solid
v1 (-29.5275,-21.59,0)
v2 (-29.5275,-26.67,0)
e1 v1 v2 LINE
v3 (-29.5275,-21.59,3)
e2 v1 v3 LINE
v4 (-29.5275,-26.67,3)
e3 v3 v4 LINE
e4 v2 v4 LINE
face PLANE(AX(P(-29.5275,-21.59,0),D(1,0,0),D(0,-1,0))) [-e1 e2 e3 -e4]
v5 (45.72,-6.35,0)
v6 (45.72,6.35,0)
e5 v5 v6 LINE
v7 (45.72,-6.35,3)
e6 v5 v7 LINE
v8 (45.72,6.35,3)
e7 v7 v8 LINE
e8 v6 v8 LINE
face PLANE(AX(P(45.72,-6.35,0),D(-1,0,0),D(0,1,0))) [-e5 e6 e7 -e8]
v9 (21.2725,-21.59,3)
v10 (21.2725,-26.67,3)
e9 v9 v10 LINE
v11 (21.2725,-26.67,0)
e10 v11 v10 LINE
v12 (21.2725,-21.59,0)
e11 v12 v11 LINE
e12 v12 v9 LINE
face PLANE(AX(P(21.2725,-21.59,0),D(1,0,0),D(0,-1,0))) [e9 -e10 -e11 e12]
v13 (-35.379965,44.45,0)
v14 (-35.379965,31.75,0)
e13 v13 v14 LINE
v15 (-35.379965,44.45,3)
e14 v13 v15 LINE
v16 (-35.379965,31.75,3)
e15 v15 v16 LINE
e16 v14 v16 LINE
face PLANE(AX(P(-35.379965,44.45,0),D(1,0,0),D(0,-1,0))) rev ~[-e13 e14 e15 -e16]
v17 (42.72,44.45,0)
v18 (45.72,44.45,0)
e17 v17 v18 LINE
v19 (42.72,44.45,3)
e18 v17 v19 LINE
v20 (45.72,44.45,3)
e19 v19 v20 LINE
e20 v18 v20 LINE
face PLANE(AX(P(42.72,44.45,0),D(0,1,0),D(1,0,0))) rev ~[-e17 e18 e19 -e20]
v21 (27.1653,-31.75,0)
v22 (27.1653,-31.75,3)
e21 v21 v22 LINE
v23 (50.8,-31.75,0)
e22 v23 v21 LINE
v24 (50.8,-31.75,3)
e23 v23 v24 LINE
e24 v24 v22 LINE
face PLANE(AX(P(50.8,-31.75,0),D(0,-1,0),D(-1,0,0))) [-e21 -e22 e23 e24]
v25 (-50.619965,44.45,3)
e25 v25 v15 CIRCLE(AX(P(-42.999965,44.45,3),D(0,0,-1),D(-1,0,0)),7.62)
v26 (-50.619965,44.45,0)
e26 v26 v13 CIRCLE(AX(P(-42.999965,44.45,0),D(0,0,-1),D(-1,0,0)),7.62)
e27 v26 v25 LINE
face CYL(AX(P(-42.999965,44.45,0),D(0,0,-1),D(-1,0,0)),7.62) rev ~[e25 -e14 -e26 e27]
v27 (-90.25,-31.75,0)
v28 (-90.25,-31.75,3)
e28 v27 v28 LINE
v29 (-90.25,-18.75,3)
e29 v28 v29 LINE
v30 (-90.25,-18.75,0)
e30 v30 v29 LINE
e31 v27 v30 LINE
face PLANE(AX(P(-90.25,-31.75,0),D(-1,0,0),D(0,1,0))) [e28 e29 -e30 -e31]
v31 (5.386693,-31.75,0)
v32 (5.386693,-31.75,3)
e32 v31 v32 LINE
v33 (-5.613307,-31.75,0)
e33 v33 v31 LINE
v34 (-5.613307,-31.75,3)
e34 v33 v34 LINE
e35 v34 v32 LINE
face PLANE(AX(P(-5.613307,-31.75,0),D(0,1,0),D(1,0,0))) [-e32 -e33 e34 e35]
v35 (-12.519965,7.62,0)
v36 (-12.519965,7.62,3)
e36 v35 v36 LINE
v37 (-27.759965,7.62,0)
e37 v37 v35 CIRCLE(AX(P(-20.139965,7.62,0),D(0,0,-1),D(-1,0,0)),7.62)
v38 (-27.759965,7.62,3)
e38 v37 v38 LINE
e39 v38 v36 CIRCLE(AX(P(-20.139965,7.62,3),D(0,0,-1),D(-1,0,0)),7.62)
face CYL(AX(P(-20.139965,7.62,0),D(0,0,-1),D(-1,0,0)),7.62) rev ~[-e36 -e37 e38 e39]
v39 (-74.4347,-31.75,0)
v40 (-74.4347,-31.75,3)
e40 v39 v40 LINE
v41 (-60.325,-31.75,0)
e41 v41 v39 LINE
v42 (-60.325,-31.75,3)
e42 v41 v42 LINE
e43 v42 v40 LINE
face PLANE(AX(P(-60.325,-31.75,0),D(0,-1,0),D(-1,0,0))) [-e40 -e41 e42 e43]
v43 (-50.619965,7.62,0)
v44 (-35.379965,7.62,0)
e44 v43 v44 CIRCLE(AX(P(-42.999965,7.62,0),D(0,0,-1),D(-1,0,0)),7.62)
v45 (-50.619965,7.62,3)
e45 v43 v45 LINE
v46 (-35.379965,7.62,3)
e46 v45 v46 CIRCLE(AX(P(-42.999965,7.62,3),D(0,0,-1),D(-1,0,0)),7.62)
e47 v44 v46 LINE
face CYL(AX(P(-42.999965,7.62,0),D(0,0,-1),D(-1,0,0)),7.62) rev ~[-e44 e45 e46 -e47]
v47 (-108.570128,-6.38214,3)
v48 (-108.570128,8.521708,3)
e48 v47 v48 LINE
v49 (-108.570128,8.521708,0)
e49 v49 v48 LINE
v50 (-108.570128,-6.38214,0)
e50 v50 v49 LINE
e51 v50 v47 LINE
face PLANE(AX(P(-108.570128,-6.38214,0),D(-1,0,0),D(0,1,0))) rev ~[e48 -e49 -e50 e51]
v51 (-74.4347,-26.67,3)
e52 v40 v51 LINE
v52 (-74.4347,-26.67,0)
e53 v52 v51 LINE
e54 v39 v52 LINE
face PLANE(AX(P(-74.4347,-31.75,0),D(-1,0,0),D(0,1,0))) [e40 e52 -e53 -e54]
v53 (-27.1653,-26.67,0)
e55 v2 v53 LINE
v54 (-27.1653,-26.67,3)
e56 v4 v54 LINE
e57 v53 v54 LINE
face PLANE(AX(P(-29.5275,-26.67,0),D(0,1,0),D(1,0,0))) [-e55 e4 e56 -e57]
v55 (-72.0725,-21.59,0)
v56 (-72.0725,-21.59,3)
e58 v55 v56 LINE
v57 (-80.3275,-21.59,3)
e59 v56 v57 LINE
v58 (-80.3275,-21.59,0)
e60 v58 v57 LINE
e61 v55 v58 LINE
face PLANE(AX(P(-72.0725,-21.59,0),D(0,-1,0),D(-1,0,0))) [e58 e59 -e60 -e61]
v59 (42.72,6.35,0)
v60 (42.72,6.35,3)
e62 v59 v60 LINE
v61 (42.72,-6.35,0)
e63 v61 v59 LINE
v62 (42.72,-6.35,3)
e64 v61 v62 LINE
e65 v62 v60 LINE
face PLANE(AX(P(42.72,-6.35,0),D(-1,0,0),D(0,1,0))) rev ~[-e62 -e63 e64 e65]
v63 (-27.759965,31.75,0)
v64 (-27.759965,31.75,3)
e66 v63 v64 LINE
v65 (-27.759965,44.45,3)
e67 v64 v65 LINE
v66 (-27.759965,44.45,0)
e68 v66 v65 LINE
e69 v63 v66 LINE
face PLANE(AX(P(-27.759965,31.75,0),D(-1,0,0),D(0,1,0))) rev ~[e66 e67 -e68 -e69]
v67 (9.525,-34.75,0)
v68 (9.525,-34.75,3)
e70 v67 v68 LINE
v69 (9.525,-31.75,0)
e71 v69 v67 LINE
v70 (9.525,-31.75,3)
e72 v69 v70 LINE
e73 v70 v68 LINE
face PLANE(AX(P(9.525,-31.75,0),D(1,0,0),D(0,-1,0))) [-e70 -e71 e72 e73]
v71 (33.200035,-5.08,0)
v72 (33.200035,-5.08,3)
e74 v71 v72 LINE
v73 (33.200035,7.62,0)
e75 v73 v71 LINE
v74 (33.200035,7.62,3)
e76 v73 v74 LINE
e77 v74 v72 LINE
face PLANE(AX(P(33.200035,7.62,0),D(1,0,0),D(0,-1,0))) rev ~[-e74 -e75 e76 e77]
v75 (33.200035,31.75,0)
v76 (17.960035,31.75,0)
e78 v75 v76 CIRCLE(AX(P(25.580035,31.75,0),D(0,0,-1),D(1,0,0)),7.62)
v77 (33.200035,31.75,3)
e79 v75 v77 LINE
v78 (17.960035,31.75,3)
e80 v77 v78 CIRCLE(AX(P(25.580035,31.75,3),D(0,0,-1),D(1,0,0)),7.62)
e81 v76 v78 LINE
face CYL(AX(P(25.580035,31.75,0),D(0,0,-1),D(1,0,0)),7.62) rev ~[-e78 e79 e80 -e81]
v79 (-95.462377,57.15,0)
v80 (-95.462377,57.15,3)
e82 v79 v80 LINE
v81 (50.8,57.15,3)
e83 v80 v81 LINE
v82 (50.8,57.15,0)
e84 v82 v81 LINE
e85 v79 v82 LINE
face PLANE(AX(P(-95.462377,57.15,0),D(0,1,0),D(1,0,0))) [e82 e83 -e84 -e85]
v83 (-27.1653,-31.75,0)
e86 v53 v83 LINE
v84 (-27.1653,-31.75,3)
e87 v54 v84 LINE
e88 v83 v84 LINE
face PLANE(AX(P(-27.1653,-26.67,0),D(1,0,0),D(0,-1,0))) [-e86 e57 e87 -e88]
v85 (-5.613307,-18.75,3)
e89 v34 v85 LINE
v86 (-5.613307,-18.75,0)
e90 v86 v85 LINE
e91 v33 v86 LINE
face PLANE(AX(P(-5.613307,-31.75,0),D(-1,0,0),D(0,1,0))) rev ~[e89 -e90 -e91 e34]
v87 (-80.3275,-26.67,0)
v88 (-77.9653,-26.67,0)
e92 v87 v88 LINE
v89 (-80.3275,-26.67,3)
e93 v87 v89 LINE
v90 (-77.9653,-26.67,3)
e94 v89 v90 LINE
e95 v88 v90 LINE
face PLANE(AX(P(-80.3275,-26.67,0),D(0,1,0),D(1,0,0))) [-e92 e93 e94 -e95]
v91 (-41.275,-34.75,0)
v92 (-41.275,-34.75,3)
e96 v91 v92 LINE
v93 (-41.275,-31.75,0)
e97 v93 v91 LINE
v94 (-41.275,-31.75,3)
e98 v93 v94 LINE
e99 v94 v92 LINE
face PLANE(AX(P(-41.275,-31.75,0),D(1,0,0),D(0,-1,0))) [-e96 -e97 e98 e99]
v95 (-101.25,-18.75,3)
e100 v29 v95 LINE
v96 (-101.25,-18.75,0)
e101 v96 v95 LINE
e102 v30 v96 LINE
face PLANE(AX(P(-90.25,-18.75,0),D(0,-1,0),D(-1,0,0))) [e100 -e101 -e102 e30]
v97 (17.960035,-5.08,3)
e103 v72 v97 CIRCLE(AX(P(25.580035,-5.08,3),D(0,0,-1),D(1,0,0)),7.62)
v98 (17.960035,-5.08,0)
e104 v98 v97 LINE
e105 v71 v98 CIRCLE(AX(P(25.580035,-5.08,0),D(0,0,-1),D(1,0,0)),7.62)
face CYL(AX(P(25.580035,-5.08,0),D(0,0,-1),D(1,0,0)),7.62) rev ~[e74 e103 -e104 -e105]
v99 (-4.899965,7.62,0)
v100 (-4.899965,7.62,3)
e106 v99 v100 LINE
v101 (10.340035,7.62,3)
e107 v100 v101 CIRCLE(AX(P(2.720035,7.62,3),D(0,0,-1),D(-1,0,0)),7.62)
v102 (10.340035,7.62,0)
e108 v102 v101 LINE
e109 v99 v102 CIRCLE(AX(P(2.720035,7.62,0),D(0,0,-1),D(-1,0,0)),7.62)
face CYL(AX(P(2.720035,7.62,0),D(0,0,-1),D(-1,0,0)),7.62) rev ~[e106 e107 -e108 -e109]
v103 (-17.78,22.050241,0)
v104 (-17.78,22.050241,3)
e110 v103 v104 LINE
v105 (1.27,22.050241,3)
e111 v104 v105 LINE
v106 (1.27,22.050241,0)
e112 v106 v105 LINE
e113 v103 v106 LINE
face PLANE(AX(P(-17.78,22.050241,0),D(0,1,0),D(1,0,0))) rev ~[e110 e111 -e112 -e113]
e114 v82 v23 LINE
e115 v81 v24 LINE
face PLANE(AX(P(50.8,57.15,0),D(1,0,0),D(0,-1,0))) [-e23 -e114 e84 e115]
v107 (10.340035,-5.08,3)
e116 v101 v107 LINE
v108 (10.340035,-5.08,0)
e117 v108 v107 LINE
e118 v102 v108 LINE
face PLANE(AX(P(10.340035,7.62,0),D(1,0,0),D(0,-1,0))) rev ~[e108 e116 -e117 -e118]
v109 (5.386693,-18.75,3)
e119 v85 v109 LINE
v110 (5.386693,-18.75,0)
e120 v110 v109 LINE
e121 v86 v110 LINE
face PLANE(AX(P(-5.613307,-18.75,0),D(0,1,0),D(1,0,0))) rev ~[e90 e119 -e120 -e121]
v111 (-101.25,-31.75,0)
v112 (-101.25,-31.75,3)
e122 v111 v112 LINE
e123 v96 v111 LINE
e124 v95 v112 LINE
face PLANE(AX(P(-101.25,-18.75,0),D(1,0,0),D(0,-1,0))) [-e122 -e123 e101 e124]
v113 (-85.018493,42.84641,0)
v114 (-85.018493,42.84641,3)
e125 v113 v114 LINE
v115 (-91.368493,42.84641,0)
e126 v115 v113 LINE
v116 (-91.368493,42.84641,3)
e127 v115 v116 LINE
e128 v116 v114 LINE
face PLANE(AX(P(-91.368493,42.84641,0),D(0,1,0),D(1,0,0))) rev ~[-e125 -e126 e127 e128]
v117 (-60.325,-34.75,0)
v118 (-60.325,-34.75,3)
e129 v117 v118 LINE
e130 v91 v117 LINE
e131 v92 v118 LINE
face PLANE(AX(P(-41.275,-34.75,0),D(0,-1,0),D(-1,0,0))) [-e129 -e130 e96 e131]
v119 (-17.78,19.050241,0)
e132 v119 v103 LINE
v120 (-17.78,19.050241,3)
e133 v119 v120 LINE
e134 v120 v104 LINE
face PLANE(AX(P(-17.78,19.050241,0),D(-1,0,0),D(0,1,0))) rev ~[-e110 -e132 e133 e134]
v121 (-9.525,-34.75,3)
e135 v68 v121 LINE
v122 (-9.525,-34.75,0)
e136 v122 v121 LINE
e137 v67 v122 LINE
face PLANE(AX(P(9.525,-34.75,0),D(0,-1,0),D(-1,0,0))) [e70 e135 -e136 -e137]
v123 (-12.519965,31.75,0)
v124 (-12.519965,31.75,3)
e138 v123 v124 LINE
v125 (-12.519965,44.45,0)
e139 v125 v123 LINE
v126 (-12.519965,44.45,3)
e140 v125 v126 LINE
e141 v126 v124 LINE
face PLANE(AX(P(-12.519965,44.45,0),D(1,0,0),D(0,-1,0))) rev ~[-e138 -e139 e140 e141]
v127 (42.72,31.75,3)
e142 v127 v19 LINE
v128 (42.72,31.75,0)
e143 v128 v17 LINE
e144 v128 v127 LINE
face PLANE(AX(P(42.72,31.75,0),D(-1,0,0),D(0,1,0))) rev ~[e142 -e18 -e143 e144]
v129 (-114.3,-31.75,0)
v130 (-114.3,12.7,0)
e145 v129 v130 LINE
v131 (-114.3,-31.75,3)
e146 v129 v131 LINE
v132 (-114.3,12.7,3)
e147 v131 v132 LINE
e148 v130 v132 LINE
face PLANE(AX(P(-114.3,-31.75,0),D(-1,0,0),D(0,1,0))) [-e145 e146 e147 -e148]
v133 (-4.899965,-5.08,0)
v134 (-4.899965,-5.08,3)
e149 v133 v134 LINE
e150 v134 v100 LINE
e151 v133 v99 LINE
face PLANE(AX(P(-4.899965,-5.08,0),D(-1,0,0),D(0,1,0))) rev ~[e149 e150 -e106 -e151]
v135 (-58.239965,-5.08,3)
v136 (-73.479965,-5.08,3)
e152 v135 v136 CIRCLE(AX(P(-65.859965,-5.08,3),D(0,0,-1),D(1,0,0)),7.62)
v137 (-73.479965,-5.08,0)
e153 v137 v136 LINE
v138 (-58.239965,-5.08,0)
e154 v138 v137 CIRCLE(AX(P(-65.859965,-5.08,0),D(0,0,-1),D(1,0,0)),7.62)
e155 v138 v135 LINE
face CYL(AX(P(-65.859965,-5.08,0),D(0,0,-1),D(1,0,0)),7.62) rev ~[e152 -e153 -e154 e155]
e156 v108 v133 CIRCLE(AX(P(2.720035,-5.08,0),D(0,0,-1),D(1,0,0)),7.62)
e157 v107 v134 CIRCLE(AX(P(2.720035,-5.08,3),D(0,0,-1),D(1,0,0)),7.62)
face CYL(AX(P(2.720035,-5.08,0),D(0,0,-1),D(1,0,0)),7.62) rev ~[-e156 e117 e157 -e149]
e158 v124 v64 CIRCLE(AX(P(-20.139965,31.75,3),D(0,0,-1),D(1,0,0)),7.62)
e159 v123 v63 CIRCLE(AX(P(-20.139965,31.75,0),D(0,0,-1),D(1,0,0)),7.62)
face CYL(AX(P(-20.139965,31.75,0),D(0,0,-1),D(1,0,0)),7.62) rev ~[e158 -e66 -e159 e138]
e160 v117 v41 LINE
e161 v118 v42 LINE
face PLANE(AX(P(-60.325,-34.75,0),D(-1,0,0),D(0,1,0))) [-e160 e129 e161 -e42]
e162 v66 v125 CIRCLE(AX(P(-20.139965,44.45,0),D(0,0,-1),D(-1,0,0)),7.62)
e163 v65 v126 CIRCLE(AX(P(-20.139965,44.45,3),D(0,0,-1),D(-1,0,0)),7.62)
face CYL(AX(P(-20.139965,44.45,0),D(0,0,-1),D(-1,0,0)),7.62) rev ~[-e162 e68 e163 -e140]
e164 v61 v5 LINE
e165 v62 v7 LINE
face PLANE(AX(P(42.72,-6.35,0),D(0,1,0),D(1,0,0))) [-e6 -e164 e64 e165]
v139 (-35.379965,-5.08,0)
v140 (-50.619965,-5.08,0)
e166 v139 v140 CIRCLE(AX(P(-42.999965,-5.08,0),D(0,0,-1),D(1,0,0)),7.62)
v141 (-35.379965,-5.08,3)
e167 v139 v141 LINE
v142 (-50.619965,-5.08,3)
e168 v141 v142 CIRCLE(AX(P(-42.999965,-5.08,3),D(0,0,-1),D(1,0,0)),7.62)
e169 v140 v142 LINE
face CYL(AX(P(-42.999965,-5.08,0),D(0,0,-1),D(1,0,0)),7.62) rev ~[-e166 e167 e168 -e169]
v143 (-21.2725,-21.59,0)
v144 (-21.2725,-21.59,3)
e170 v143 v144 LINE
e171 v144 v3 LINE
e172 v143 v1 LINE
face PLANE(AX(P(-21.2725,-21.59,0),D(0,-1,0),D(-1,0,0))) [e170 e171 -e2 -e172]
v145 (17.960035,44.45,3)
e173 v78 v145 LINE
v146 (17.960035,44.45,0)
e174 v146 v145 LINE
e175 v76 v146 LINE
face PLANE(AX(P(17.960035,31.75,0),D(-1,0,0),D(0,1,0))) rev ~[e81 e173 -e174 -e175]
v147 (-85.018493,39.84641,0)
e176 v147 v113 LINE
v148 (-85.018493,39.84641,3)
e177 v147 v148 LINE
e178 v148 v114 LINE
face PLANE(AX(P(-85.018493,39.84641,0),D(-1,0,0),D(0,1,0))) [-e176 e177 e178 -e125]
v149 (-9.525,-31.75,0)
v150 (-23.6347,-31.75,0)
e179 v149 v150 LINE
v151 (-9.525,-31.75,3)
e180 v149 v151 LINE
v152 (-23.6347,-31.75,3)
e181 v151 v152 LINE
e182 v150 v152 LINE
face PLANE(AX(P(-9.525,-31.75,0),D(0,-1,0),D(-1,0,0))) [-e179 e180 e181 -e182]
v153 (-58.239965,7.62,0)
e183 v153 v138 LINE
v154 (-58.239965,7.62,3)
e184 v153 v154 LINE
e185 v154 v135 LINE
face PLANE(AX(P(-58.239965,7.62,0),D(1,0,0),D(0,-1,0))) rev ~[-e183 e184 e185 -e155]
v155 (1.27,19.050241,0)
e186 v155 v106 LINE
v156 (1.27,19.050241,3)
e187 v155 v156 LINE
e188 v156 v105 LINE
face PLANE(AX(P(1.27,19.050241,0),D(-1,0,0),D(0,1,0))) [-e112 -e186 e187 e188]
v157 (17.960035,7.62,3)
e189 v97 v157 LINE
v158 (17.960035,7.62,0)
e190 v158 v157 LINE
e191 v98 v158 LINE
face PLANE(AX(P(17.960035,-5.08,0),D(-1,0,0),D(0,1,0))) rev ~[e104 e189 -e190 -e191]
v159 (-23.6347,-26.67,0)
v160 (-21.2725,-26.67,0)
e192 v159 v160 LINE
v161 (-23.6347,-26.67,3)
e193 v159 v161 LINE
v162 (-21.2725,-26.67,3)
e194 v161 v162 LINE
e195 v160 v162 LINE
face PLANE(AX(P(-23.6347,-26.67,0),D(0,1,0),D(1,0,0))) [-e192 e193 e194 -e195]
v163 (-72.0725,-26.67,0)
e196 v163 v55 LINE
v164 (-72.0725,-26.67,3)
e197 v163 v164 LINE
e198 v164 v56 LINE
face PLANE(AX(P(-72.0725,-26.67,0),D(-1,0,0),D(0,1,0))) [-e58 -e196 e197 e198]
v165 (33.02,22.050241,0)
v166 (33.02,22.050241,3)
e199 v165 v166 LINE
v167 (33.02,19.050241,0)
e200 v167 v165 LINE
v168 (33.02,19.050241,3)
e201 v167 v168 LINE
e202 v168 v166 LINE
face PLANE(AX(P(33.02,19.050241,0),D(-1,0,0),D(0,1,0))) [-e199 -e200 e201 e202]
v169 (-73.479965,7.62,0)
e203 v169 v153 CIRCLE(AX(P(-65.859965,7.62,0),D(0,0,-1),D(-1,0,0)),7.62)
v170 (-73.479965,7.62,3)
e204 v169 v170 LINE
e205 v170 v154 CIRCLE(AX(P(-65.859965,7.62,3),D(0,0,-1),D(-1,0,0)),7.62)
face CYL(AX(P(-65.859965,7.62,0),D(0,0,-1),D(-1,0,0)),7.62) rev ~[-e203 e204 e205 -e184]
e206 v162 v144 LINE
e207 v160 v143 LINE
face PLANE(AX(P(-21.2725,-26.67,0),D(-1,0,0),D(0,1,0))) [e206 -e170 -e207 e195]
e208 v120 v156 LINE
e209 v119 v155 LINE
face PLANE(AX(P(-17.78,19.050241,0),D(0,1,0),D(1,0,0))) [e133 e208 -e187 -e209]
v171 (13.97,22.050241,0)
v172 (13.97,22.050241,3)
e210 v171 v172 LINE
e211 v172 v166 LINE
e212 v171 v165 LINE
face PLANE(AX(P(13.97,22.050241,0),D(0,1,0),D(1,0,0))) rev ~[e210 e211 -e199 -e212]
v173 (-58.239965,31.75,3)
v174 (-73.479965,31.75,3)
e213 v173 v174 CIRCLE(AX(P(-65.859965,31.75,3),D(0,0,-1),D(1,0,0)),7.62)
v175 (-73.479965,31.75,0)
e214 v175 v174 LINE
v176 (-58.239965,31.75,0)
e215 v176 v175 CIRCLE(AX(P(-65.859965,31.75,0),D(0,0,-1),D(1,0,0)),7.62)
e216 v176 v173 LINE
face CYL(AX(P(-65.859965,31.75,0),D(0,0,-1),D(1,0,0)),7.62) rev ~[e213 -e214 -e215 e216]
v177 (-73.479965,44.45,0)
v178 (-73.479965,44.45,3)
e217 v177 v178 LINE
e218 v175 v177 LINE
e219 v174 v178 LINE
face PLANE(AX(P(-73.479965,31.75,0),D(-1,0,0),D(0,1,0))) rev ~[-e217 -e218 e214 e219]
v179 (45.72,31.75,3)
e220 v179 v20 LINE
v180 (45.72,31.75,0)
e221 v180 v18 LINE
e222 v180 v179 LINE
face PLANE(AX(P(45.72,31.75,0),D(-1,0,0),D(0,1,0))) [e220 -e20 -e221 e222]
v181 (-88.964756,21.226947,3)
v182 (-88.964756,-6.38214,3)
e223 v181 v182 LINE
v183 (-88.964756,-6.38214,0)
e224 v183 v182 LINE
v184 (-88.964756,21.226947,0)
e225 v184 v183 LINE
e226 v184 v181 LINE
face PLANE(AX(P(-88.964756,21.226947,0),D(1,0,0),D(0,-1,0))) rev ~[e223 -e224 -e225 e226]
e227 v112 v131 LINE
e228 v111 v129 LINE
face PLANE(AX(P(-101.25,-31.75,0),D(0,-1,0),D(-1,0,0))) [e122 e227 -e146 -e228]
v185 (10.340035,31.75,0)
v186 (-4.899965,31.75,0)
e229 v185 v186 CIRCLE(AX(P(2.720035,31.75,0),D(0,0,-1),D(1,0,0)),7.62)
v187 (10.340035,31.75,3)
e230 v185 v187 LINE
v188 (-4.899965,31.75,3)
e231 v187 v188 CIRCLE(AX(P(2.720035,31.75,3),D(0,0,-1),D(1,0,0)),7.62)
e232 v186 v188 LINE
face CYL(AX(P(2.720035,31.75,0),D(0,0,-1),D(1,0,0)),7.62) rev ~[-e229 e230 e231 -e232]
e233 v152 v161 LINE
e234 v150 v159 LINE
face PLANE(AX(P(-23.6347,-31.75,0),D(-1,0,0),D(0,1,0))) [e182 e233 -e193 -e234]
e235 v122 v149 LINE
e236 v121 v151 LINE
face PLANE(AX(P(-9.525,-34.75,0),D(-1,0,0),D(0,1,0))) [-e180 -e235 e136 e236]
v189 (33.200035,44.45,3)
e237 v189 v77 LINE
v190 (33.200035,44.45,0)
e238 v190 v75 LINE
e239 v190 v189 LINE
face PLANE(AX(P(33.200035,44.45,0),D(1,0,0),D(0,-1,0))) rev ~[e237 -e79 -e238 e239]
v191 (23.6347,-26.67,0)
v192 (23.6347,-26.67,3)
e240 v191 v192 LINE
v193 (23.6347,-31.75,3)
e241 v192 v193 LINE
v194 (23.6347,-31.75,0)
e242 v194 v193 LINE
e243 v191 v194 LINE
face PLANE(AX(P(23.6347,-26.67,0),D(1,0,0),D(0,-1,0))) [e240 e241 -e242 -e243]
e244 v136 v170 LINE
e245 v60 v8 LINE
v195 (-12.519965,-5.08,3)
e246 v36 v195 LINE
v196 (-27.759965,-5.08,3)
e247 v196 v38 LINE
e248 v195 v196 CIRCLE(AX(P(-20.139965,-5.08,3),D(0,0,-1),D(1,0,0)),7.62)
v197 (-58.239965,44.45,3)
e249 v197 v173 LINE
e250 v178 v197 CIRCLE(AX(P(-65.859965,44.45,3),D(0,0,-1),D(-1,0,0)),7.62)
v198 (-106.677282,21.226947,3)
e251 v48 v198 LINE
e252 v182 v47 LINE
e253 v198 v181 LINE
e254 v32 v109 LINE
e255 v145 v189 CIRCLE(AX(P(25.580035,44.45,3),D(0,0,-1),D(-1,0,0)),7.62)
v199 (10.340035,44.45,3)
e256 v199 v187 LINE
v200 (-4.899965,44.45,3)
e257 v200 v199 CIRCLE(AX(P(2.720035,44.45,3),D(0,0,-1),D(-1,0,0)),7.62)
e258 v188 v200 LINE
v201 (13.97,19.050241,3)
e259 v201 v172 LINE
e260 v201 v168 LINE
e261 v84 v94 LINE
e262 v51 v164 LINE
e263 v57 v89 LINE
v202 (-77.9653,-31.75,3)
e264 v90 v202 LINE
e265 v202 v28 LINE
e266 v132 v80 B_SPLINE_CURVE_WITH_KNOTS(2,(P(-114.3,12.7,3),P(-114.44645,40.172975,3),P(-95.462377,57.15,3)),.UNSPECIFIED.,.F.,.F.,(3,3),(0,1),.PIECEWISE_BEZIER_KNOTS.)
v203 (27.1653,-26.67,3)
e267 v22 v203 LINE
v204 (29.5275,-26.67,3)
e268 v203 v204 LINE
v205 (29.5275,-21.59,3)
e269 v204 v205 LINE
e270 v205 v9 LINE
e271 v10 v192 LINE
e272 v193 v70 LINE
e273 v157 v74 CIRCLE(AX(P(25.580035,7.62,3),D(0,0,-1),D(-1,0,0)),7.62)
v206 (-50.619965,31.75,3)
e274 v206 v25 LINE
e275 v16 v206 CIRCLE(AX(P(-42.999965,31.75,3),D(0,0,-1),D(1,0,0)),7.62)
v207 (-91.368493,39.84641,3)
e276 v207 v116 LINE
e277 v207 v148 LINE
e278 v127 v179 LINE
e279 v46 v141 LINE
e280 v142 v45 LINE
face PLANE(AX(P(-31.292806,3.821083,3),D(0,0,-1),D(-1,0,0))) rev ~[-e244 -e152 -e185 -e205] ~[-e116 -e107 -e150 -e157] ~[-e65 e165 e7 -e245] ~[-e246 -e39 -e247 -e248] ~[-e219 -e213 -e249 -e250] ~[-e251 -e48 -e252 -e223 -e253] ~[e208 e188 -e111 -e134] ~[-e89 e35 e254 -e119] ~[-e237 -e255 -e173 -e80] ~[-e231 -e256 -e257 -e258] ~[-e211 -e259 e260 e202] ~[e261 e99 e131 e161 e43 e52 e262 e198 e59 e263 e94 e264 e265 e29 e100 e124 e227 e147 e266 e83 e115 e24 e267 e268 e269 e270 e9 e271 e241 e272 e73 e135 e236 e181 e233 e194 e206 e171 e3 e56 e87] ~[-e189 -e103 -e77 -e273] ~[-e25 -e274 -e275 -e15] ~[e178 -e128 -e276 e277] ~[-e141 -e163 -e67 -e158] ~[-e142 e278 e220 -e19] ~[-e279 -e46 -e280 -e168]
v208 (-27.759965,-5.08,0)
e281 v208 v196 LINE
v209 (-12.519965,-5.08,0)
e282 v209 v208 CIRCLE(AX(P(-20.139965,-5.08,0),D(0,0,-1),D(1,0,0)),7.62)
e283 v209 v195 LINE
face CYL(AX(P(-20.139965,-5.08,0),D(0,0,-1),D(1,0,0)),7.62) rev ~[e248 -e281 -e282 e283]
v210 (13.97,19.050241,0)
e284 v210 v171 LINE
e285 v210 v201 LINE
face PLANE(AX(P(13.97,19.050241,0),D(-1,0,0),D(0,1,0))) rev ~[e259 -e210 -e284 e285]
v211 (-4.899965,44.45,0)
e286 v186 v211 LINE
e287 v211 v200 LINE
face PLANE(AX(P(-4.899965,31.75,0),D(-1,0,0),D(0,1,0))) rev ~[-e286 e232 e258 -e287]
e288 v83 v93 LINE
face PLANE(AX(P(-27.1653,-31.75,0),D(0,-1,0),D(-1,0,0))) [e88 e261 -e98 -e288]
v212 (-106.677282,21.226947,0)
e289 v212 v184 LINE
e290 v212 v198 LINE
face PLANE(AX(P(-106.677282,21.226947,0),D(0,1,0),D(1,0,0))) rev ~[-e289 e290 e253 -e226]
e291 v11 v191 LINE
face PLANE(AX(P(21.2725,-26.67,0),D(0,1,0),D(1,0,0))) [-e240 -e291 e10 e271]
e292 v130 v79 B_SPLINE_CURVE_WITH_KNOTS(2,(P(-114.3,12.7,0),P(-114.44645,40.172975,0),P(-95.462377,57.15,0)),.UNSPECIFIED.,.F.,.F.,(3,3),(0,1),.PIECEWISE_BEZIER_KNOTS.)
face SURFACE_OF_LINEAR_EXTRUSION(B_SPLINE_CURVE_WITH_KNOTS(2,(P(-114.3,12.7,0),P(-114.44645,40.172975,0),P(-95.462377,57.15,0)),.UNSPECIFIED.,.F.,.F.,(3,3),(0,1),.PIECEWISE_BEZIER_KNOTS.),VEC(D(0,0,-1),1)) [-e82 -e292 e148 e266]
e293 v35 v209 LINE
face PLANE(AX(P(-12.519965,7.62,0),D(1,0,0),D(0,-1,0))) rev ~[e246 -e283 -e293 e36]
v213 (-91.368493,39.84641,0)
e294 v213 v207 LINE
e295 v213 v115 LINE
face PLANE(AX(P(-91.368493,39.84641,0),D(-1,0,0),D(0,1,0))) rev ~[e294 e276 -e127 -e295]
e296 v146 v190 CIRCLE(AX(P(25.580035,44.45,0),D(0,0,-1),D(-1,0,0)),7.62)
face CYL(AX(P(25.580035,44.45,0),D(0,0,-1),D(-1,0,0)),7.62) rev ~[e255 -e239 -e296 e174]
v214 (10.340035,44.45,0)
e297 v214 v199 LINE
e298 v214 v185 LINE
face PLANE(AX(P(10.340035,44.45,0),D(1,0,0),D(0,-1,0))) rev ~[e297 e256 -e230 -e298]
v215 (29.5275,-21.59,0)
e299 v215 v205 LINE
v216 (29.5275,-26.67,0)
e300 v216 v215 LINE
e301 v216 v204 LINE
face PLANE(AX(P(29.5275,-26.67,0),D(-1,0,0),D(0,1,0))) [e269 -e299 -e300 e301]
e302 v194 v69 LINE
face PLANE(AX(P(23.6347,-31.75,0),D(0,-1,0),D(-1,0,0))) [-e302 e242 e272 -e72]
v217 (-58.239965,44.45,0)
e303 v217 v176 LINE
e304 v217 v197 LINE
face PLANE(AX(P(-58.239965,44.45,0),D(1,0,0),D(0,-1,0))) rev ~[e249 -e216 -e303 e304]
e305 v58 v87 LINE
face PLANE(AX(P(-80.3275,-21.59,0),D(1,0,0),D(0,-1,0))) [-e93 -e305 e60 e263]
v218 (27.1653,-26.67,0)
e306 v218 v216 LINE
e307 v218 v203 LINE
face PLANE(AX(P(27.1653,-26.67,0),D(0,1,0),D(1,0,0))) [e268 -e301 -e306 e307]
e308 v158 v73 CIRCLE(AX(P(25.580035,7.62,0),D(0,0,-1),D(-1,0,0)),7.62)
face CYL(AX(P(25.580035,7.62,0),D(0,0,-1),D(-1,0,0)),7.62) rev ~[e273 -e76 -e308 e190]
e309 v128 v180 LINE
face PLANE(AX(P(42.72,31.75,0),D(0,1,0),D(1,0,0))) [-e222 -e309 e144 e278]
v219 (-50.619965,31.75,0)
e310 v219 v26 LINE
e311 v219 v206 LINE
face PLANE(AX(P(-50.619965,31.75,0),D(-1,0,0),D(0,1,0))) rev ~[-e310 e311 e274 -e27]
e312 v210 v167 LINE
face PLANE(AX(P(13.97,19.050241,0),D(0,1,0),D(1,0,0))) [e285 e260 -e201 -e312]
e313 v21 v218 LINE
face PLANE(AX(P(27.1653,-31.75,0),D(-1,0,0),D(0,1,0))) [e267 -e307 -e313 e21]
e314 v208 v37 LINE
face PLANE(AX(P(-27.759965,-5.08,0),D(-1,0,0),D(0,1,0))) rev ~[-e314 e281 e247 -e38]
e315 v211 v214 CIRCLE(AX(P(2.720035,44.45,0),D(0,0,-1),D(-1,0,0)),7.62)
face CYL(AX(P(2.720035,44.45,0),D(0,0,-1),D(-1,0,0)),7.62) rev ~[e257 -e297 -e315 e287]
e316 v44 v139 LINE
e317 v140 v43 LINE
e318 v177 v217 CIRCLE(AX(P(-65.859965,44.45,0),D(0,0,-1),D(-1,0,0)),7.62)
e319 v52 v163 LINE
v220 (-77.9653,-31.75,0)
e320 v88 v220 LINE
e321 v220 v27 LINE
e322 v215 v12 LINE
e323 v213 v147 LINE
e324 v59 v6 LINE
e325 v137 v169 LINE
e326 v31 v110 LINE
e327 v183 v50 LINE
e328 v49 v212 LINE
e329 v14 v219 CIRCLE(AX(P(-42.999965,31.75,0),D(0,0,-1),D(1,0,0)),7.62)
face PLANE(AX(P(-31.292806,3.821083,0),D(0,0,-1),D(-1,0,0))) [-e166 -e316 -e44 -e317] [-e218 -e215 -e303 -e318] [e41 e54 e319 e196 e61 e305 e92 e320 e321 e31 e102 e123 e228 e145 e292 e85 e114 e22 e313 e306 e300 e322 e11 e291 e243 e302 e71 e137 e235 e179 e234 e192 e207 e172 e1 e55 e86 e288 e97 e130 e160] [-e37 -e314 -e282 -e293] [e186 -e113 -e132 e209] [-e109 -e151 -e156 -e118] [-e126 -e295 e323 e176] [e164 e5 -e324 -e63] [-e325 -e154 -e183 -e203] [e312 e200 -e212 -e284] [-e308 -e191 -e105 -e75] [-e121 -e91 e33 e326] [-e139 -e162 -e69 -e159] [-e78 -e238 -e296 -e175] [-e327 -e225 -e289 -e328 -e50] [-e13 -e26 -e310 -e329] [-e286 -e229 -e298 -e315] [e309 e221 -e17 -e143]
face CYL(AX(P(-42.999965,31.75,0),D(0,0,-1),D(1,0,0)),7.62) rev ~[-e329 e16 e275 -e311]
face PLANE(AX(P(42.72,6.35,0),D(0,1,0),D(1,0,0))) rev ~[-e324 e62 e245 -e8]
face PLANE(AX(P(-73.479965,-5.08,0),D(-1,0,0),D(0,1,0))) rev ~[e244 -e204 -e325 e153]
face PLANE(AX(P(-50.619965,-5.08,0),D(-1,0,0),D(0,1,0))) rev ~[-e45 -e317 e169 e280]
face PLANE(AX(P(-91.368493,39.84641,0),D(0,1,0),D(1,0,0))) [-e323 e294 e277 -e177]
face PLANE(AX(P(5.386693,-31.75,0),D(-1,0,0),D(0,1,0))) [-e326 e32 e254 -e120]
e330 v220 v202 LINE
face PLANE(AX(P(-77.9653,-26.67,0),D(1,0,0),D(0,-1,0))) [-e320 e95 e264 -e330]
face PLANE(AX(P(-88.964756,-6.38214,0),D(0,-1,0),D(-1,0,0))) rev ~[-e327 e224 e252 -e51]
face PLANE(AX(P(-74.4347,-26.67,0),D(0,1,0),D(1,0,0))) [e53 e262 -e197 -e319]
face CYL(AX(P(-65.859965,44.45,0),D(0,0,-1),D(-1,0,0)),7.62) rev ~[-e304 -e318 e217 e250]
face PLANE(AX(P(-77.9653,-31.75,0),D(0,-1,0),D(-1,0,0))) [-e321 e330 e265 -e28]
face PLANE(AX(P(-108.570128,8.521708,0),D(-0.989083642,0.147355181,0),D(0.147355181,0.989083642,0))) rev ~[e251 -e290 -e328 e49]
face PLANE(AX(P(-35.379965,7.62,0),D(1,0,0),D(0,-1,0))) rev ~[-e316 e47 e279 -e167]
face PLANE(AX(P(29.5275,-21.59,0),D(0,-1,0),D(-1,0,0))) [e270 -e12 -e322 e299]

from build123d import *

# Parameters (mm, degrees)
SKETCH1_W           = 3
SKETCH1_H           = 12.7
SKETCH1_W_2         = 6.35
SKETCH1_H_2         = 3
SKETCH1_W_3         = 19.05
SKETCH1_W_4         = 11
SKETCH1_H_3         = 13
BOSS_EXTRUDE1_DEPTH = 3


with BuildPart() as part:
    # Sketch1 → Boss-Extrude1 (new body)
    with BuildSketch(Plane.XY):
        with BuildLine():
            Line((50.8, 31.75), (50.8, -31.75))
            Line((50.8, -31.75), (27.1653, -31.75))
            Line((27.1653, -31.75), (27.1653, -26.67))
            Line((27.1653, -26.67), (29.5275, -26.67))
            Line((29.5275, -26.67), (29.5275, -21.59))
            Line((29.5275, -21.59), (21.2725, -21.59))
            Line((21.2725, -21.59), (21.2725, -26.67))
            Line((21.2725, -26.67), (23.6347, -26.67))
            Line((23.6347, -26.67), (23.6347, -31.75))
            Line((23.6347, -31.75), (9.525, -31.75))
            Line((9.525, -31.75), (9.525, -34.75))
            Line((9.525, -34.75), (-9.525, -34.75))
            Line((-9.525, -34.75), (-9.525, -31.75))
            Line((-9.525, -31.75), (-23.6347, -31.75))
            Line((-23.6347, -31.75), (-23.6347, -26.67))
            Line((-23.6347, -26.67), (-21.2725, -26.67))
            Line((-21.2725, -26.67), (-21.2725, -21.59))
            Line((-21.2725, -21.59), (-29.5275, -21.59))
            Line((-29.5275, -21.59), (-29.5275, -26.67))
            Line((-29.5275, -26.67), (-27.1653, -26.67))
            Line((-27.1653, -26.67), (-27.1653, -31.75))
            Line((-27.1653, -31.75), (-41.275, -31.75))
            Line((-41.275, -31.75), (-41.275, -34.75))
            Line((-41.275, -34.75), (-60.325, -34.75))
            Line((-60.325, -34.75), (-60.325, -31.75))
            Line((-60.325, -31.75), (-74.4347, -31.75))
            Line((-74.4347, -31.75), (-74.4347, -26.67))
            Line((-74.4347, -26.67), (-72.0725, -26.67))
            Line((-72.0725, -26.67), (-72.0725, -21.59))
            Line((-72.0725, -21.59), (-80.3275, -21.59))
            Line((-80.3275, -21.59), (-80.3275, -26.67))
            Line((-80.3275, -26.67), (-77.9653, -26.67))
            Line((-77.9653, -26.67), (-77.9653, -31.75))
            Line((-77.9653, -31.75), (-90.25, -31.75))
            Line((-90.25, -31.75), (-90.25, -18.75))
            Line((-90.25, -18.75), (-101.25, -18.75))
            Line((-101.25, -18.75), (-101.25, -31.75))
            Line((-101.25, -31.75), (-114.3, -31.75))
            Line((-114.3, -31.75), (-114.3, 12.7))
            add(Edge.make_bspline(
                [(-114.3, 12.7), (-114.446449762, 40.172975461), (-95.462376933, 57.15)],
                knots=[0, 0, 0, 1, 1, 1], degree=2))
            Line((-95.462376933, 57.15), (50.8, 57.15))
            Line((50.8, 57.15), (50.8, 31.75))
        make_face()
        with BuildLine():
            Line((33.200035124, 7.62), (33.200035124, -5.08))
            ThreePointArc((33.200035124, -5.08), (25.580035124, -12.7), (17.960035124, -5.08))
            Line((17.960035124, -5.08), (17.960035124, 7.62))
            ThreePointArc((17.960035124, 7.62), (25.580035124, 15.24), (33.200035124, 7.62))
        make_face(mode=Mode.SUBTRACT)
        with Locations((44.22, 38.1)):
            Rectangle(SKETCH1_W, SKETCH1_H, mode=Mode.SUBTRACT)
        with BuildLine():
            Line((10.340035124, 7.62), (10.340035124, -5.08))
            ThreePointArc((10.340035124, -5.08), (2.720035124, -12.7), (-4.899964876, -5.08))
            Line((-4.899964876, -5.08), (-4.899964876, 7.62))
            ThreePointArc((-4.899964876, 7.62), (2.720035124, 15.24), (10.340035124, 7.62))
        make_face(mode=Mode.SUBTRACT)
        with BuildLine():
            Line((-12.519964876, 7.62), (-12.519964876, -5.08))
            ThreePointArc((-12.519964876, -5.08), (-20.139964876, -12.7), (-27.759964876, -5.08))
            Line((-27.759964876, -5.08), (-27.759964876, 7.62))
            ThreePointArc((-27.759964876, 7.62), (-20.139964876, 15.24), (-12.519964876, 7.62))
        make_face(mode=Mode.SUBTRACT)
        with Locations((44.22, 0)):
            Rectangle(SKETCH1_W, SKETCH1_H, mode=Mode.SUBTRACT)
        with BuildLine():
            Line((-35.379964876, 7.62), (-35.379964876, -5.08))
            ThreePointArc((-35.379964876, -5.08), (-42.999964876, -12.7), (-50.619964876, -5.08))
            Line((-50.619964876, -5.08), (-50.619964876, 7.62))
            ThreePointArc((-50.619964876, 7.62), (-42.999964876, 15.24), (-35.379964876, 7.62))
        make_face(mode=Mode.SUBTRACT)
        with BuildLine():
            Line((-58.239964876, 7.62), (-58.239964876, -5.08))
            ThreePointArc((-58.239964876, -5.08), (-65.859964876, -12.7), (-73.479964876, -5.08))
            Line((-73.479964876, -5.08), (-73.479964876, 7.62))
            ThreePointArc((-73.479964876, 7.62), (-65.859964876, 15.24), (-58.239964876, 7.62))
        make_face(mode=Mode.SUBTRACT)
        with BuildLine():
            Line((33.200035124, 44.45), (33.200035124, 31.75))
            ThreePointArc((33.200035124, 31.75), (25.580035124, 24.13), (17.960035124, 31.75))
            Line((17.960035124, 31.75), (17.960035124, 44.45))
            ThreePointArc((17.960035124, 44.45), (25.580035124, 52.07), (33.200035124, 44.45))
        make_face(mode=Mode.SUBTRACT)
        with BuildLine():
            Line((10.340035124, 44.45), (10.340035124, 31.75))
            ThreePointArc((10.340035124, 31.75), (2.720035124, 24.13), (-4.899964876, 31.75))
            Line((-4.899964876, 31.75), (-4.899964876, 44.45))
            ThreePointArc((-4.899964876, 44.45), (2.720035124, 52.07), (10.340035124, 44.45))
        make_face(mode=Mode.SUBTRACT)
        with BuildLine():
            Line((-12.519964876, 44.45), (-12.519964876, 31.75))
            ThreePointArc((-12.519964876, 31.75), (-20.139964876, 24.13), (-27.759964876, 31.75))
            Line((-27.759964876, 31.75), (-27.759964876, 44.45))
            ThreePointArc((-27.759964876, 44.45), (-20.139964876, 52.07), (-12.519964876, 44.45))
        make_face(mode=Mode.SUBTRACT)
        with BuildLine():
            Line((-35.379964876, 44.45), (-35.379964876, 31.75))
            ThreePointArc((-35.379964876, 31.75), (-42.999964876, 24.13), (-50.619964876, 31.75))
            Line((-50.619964876, 31.75), (-50.619964876, 44.45))
            ThreePointArc((-50.619964876, 44.45), (-42.999964876, 52.07), (-35.379964876, 44.45))
        make_face(mode=Mode.SUBTRACT)
        with BuildLine():
            Line((-58.239964876, 44.45), (-58.239964876, 31.75))
            ThreePointArc((-58.239964876, 31.75), (-65.859964876, 24.13), (-73.479964876, 31.75))
            Line((-73.479964876, 31.75), (-73.479964876, 44.45))
            ThreePointArc((-73.479964876, 44.45), (-65.859964876, 52.07), (-58.239964876, 44.45))
        make_face(mode=Mode.SUBTRACT)
        Polygon((-108.570127811, 2.130538697), (-108.570127811, 8.521708079), (-106.677281982, 21.226947449), (-101.67507942, 21.226947449), (-88.964755701, 21.226947449), (-88.964755701, -6.382139969), (-108.570127811, -6.382139969), align=None, mode=Mode.SUBTRACT)
        with Locations((-88.193493425, 41.3464095)):
            Rectangle(SKETCH1_W_2, SKETCH1_H_2, mode=Mode.SUBTRACT)
        with Locations((23.495, 20.550240793)):
            Rectangle(SKETCH1_W_3, SKETCH1_H_2, mode=Mode.SUBTRACT)
        with Locations((-8.255, 20.550240793)):
            Rectangle(SKETCH1_W_3, SKETCH1_H_2, mode=Mode.SUBTRACT)
        with Locations((-0.113307165, -25.25)):
            Rectangle(SKETCH1_W_4, SKETCH1_H_3, mode=Mode.SUBTRACT)
    extrude(amount=BOSS_EXTRUDE1_DEPTH)


solid = part.part
